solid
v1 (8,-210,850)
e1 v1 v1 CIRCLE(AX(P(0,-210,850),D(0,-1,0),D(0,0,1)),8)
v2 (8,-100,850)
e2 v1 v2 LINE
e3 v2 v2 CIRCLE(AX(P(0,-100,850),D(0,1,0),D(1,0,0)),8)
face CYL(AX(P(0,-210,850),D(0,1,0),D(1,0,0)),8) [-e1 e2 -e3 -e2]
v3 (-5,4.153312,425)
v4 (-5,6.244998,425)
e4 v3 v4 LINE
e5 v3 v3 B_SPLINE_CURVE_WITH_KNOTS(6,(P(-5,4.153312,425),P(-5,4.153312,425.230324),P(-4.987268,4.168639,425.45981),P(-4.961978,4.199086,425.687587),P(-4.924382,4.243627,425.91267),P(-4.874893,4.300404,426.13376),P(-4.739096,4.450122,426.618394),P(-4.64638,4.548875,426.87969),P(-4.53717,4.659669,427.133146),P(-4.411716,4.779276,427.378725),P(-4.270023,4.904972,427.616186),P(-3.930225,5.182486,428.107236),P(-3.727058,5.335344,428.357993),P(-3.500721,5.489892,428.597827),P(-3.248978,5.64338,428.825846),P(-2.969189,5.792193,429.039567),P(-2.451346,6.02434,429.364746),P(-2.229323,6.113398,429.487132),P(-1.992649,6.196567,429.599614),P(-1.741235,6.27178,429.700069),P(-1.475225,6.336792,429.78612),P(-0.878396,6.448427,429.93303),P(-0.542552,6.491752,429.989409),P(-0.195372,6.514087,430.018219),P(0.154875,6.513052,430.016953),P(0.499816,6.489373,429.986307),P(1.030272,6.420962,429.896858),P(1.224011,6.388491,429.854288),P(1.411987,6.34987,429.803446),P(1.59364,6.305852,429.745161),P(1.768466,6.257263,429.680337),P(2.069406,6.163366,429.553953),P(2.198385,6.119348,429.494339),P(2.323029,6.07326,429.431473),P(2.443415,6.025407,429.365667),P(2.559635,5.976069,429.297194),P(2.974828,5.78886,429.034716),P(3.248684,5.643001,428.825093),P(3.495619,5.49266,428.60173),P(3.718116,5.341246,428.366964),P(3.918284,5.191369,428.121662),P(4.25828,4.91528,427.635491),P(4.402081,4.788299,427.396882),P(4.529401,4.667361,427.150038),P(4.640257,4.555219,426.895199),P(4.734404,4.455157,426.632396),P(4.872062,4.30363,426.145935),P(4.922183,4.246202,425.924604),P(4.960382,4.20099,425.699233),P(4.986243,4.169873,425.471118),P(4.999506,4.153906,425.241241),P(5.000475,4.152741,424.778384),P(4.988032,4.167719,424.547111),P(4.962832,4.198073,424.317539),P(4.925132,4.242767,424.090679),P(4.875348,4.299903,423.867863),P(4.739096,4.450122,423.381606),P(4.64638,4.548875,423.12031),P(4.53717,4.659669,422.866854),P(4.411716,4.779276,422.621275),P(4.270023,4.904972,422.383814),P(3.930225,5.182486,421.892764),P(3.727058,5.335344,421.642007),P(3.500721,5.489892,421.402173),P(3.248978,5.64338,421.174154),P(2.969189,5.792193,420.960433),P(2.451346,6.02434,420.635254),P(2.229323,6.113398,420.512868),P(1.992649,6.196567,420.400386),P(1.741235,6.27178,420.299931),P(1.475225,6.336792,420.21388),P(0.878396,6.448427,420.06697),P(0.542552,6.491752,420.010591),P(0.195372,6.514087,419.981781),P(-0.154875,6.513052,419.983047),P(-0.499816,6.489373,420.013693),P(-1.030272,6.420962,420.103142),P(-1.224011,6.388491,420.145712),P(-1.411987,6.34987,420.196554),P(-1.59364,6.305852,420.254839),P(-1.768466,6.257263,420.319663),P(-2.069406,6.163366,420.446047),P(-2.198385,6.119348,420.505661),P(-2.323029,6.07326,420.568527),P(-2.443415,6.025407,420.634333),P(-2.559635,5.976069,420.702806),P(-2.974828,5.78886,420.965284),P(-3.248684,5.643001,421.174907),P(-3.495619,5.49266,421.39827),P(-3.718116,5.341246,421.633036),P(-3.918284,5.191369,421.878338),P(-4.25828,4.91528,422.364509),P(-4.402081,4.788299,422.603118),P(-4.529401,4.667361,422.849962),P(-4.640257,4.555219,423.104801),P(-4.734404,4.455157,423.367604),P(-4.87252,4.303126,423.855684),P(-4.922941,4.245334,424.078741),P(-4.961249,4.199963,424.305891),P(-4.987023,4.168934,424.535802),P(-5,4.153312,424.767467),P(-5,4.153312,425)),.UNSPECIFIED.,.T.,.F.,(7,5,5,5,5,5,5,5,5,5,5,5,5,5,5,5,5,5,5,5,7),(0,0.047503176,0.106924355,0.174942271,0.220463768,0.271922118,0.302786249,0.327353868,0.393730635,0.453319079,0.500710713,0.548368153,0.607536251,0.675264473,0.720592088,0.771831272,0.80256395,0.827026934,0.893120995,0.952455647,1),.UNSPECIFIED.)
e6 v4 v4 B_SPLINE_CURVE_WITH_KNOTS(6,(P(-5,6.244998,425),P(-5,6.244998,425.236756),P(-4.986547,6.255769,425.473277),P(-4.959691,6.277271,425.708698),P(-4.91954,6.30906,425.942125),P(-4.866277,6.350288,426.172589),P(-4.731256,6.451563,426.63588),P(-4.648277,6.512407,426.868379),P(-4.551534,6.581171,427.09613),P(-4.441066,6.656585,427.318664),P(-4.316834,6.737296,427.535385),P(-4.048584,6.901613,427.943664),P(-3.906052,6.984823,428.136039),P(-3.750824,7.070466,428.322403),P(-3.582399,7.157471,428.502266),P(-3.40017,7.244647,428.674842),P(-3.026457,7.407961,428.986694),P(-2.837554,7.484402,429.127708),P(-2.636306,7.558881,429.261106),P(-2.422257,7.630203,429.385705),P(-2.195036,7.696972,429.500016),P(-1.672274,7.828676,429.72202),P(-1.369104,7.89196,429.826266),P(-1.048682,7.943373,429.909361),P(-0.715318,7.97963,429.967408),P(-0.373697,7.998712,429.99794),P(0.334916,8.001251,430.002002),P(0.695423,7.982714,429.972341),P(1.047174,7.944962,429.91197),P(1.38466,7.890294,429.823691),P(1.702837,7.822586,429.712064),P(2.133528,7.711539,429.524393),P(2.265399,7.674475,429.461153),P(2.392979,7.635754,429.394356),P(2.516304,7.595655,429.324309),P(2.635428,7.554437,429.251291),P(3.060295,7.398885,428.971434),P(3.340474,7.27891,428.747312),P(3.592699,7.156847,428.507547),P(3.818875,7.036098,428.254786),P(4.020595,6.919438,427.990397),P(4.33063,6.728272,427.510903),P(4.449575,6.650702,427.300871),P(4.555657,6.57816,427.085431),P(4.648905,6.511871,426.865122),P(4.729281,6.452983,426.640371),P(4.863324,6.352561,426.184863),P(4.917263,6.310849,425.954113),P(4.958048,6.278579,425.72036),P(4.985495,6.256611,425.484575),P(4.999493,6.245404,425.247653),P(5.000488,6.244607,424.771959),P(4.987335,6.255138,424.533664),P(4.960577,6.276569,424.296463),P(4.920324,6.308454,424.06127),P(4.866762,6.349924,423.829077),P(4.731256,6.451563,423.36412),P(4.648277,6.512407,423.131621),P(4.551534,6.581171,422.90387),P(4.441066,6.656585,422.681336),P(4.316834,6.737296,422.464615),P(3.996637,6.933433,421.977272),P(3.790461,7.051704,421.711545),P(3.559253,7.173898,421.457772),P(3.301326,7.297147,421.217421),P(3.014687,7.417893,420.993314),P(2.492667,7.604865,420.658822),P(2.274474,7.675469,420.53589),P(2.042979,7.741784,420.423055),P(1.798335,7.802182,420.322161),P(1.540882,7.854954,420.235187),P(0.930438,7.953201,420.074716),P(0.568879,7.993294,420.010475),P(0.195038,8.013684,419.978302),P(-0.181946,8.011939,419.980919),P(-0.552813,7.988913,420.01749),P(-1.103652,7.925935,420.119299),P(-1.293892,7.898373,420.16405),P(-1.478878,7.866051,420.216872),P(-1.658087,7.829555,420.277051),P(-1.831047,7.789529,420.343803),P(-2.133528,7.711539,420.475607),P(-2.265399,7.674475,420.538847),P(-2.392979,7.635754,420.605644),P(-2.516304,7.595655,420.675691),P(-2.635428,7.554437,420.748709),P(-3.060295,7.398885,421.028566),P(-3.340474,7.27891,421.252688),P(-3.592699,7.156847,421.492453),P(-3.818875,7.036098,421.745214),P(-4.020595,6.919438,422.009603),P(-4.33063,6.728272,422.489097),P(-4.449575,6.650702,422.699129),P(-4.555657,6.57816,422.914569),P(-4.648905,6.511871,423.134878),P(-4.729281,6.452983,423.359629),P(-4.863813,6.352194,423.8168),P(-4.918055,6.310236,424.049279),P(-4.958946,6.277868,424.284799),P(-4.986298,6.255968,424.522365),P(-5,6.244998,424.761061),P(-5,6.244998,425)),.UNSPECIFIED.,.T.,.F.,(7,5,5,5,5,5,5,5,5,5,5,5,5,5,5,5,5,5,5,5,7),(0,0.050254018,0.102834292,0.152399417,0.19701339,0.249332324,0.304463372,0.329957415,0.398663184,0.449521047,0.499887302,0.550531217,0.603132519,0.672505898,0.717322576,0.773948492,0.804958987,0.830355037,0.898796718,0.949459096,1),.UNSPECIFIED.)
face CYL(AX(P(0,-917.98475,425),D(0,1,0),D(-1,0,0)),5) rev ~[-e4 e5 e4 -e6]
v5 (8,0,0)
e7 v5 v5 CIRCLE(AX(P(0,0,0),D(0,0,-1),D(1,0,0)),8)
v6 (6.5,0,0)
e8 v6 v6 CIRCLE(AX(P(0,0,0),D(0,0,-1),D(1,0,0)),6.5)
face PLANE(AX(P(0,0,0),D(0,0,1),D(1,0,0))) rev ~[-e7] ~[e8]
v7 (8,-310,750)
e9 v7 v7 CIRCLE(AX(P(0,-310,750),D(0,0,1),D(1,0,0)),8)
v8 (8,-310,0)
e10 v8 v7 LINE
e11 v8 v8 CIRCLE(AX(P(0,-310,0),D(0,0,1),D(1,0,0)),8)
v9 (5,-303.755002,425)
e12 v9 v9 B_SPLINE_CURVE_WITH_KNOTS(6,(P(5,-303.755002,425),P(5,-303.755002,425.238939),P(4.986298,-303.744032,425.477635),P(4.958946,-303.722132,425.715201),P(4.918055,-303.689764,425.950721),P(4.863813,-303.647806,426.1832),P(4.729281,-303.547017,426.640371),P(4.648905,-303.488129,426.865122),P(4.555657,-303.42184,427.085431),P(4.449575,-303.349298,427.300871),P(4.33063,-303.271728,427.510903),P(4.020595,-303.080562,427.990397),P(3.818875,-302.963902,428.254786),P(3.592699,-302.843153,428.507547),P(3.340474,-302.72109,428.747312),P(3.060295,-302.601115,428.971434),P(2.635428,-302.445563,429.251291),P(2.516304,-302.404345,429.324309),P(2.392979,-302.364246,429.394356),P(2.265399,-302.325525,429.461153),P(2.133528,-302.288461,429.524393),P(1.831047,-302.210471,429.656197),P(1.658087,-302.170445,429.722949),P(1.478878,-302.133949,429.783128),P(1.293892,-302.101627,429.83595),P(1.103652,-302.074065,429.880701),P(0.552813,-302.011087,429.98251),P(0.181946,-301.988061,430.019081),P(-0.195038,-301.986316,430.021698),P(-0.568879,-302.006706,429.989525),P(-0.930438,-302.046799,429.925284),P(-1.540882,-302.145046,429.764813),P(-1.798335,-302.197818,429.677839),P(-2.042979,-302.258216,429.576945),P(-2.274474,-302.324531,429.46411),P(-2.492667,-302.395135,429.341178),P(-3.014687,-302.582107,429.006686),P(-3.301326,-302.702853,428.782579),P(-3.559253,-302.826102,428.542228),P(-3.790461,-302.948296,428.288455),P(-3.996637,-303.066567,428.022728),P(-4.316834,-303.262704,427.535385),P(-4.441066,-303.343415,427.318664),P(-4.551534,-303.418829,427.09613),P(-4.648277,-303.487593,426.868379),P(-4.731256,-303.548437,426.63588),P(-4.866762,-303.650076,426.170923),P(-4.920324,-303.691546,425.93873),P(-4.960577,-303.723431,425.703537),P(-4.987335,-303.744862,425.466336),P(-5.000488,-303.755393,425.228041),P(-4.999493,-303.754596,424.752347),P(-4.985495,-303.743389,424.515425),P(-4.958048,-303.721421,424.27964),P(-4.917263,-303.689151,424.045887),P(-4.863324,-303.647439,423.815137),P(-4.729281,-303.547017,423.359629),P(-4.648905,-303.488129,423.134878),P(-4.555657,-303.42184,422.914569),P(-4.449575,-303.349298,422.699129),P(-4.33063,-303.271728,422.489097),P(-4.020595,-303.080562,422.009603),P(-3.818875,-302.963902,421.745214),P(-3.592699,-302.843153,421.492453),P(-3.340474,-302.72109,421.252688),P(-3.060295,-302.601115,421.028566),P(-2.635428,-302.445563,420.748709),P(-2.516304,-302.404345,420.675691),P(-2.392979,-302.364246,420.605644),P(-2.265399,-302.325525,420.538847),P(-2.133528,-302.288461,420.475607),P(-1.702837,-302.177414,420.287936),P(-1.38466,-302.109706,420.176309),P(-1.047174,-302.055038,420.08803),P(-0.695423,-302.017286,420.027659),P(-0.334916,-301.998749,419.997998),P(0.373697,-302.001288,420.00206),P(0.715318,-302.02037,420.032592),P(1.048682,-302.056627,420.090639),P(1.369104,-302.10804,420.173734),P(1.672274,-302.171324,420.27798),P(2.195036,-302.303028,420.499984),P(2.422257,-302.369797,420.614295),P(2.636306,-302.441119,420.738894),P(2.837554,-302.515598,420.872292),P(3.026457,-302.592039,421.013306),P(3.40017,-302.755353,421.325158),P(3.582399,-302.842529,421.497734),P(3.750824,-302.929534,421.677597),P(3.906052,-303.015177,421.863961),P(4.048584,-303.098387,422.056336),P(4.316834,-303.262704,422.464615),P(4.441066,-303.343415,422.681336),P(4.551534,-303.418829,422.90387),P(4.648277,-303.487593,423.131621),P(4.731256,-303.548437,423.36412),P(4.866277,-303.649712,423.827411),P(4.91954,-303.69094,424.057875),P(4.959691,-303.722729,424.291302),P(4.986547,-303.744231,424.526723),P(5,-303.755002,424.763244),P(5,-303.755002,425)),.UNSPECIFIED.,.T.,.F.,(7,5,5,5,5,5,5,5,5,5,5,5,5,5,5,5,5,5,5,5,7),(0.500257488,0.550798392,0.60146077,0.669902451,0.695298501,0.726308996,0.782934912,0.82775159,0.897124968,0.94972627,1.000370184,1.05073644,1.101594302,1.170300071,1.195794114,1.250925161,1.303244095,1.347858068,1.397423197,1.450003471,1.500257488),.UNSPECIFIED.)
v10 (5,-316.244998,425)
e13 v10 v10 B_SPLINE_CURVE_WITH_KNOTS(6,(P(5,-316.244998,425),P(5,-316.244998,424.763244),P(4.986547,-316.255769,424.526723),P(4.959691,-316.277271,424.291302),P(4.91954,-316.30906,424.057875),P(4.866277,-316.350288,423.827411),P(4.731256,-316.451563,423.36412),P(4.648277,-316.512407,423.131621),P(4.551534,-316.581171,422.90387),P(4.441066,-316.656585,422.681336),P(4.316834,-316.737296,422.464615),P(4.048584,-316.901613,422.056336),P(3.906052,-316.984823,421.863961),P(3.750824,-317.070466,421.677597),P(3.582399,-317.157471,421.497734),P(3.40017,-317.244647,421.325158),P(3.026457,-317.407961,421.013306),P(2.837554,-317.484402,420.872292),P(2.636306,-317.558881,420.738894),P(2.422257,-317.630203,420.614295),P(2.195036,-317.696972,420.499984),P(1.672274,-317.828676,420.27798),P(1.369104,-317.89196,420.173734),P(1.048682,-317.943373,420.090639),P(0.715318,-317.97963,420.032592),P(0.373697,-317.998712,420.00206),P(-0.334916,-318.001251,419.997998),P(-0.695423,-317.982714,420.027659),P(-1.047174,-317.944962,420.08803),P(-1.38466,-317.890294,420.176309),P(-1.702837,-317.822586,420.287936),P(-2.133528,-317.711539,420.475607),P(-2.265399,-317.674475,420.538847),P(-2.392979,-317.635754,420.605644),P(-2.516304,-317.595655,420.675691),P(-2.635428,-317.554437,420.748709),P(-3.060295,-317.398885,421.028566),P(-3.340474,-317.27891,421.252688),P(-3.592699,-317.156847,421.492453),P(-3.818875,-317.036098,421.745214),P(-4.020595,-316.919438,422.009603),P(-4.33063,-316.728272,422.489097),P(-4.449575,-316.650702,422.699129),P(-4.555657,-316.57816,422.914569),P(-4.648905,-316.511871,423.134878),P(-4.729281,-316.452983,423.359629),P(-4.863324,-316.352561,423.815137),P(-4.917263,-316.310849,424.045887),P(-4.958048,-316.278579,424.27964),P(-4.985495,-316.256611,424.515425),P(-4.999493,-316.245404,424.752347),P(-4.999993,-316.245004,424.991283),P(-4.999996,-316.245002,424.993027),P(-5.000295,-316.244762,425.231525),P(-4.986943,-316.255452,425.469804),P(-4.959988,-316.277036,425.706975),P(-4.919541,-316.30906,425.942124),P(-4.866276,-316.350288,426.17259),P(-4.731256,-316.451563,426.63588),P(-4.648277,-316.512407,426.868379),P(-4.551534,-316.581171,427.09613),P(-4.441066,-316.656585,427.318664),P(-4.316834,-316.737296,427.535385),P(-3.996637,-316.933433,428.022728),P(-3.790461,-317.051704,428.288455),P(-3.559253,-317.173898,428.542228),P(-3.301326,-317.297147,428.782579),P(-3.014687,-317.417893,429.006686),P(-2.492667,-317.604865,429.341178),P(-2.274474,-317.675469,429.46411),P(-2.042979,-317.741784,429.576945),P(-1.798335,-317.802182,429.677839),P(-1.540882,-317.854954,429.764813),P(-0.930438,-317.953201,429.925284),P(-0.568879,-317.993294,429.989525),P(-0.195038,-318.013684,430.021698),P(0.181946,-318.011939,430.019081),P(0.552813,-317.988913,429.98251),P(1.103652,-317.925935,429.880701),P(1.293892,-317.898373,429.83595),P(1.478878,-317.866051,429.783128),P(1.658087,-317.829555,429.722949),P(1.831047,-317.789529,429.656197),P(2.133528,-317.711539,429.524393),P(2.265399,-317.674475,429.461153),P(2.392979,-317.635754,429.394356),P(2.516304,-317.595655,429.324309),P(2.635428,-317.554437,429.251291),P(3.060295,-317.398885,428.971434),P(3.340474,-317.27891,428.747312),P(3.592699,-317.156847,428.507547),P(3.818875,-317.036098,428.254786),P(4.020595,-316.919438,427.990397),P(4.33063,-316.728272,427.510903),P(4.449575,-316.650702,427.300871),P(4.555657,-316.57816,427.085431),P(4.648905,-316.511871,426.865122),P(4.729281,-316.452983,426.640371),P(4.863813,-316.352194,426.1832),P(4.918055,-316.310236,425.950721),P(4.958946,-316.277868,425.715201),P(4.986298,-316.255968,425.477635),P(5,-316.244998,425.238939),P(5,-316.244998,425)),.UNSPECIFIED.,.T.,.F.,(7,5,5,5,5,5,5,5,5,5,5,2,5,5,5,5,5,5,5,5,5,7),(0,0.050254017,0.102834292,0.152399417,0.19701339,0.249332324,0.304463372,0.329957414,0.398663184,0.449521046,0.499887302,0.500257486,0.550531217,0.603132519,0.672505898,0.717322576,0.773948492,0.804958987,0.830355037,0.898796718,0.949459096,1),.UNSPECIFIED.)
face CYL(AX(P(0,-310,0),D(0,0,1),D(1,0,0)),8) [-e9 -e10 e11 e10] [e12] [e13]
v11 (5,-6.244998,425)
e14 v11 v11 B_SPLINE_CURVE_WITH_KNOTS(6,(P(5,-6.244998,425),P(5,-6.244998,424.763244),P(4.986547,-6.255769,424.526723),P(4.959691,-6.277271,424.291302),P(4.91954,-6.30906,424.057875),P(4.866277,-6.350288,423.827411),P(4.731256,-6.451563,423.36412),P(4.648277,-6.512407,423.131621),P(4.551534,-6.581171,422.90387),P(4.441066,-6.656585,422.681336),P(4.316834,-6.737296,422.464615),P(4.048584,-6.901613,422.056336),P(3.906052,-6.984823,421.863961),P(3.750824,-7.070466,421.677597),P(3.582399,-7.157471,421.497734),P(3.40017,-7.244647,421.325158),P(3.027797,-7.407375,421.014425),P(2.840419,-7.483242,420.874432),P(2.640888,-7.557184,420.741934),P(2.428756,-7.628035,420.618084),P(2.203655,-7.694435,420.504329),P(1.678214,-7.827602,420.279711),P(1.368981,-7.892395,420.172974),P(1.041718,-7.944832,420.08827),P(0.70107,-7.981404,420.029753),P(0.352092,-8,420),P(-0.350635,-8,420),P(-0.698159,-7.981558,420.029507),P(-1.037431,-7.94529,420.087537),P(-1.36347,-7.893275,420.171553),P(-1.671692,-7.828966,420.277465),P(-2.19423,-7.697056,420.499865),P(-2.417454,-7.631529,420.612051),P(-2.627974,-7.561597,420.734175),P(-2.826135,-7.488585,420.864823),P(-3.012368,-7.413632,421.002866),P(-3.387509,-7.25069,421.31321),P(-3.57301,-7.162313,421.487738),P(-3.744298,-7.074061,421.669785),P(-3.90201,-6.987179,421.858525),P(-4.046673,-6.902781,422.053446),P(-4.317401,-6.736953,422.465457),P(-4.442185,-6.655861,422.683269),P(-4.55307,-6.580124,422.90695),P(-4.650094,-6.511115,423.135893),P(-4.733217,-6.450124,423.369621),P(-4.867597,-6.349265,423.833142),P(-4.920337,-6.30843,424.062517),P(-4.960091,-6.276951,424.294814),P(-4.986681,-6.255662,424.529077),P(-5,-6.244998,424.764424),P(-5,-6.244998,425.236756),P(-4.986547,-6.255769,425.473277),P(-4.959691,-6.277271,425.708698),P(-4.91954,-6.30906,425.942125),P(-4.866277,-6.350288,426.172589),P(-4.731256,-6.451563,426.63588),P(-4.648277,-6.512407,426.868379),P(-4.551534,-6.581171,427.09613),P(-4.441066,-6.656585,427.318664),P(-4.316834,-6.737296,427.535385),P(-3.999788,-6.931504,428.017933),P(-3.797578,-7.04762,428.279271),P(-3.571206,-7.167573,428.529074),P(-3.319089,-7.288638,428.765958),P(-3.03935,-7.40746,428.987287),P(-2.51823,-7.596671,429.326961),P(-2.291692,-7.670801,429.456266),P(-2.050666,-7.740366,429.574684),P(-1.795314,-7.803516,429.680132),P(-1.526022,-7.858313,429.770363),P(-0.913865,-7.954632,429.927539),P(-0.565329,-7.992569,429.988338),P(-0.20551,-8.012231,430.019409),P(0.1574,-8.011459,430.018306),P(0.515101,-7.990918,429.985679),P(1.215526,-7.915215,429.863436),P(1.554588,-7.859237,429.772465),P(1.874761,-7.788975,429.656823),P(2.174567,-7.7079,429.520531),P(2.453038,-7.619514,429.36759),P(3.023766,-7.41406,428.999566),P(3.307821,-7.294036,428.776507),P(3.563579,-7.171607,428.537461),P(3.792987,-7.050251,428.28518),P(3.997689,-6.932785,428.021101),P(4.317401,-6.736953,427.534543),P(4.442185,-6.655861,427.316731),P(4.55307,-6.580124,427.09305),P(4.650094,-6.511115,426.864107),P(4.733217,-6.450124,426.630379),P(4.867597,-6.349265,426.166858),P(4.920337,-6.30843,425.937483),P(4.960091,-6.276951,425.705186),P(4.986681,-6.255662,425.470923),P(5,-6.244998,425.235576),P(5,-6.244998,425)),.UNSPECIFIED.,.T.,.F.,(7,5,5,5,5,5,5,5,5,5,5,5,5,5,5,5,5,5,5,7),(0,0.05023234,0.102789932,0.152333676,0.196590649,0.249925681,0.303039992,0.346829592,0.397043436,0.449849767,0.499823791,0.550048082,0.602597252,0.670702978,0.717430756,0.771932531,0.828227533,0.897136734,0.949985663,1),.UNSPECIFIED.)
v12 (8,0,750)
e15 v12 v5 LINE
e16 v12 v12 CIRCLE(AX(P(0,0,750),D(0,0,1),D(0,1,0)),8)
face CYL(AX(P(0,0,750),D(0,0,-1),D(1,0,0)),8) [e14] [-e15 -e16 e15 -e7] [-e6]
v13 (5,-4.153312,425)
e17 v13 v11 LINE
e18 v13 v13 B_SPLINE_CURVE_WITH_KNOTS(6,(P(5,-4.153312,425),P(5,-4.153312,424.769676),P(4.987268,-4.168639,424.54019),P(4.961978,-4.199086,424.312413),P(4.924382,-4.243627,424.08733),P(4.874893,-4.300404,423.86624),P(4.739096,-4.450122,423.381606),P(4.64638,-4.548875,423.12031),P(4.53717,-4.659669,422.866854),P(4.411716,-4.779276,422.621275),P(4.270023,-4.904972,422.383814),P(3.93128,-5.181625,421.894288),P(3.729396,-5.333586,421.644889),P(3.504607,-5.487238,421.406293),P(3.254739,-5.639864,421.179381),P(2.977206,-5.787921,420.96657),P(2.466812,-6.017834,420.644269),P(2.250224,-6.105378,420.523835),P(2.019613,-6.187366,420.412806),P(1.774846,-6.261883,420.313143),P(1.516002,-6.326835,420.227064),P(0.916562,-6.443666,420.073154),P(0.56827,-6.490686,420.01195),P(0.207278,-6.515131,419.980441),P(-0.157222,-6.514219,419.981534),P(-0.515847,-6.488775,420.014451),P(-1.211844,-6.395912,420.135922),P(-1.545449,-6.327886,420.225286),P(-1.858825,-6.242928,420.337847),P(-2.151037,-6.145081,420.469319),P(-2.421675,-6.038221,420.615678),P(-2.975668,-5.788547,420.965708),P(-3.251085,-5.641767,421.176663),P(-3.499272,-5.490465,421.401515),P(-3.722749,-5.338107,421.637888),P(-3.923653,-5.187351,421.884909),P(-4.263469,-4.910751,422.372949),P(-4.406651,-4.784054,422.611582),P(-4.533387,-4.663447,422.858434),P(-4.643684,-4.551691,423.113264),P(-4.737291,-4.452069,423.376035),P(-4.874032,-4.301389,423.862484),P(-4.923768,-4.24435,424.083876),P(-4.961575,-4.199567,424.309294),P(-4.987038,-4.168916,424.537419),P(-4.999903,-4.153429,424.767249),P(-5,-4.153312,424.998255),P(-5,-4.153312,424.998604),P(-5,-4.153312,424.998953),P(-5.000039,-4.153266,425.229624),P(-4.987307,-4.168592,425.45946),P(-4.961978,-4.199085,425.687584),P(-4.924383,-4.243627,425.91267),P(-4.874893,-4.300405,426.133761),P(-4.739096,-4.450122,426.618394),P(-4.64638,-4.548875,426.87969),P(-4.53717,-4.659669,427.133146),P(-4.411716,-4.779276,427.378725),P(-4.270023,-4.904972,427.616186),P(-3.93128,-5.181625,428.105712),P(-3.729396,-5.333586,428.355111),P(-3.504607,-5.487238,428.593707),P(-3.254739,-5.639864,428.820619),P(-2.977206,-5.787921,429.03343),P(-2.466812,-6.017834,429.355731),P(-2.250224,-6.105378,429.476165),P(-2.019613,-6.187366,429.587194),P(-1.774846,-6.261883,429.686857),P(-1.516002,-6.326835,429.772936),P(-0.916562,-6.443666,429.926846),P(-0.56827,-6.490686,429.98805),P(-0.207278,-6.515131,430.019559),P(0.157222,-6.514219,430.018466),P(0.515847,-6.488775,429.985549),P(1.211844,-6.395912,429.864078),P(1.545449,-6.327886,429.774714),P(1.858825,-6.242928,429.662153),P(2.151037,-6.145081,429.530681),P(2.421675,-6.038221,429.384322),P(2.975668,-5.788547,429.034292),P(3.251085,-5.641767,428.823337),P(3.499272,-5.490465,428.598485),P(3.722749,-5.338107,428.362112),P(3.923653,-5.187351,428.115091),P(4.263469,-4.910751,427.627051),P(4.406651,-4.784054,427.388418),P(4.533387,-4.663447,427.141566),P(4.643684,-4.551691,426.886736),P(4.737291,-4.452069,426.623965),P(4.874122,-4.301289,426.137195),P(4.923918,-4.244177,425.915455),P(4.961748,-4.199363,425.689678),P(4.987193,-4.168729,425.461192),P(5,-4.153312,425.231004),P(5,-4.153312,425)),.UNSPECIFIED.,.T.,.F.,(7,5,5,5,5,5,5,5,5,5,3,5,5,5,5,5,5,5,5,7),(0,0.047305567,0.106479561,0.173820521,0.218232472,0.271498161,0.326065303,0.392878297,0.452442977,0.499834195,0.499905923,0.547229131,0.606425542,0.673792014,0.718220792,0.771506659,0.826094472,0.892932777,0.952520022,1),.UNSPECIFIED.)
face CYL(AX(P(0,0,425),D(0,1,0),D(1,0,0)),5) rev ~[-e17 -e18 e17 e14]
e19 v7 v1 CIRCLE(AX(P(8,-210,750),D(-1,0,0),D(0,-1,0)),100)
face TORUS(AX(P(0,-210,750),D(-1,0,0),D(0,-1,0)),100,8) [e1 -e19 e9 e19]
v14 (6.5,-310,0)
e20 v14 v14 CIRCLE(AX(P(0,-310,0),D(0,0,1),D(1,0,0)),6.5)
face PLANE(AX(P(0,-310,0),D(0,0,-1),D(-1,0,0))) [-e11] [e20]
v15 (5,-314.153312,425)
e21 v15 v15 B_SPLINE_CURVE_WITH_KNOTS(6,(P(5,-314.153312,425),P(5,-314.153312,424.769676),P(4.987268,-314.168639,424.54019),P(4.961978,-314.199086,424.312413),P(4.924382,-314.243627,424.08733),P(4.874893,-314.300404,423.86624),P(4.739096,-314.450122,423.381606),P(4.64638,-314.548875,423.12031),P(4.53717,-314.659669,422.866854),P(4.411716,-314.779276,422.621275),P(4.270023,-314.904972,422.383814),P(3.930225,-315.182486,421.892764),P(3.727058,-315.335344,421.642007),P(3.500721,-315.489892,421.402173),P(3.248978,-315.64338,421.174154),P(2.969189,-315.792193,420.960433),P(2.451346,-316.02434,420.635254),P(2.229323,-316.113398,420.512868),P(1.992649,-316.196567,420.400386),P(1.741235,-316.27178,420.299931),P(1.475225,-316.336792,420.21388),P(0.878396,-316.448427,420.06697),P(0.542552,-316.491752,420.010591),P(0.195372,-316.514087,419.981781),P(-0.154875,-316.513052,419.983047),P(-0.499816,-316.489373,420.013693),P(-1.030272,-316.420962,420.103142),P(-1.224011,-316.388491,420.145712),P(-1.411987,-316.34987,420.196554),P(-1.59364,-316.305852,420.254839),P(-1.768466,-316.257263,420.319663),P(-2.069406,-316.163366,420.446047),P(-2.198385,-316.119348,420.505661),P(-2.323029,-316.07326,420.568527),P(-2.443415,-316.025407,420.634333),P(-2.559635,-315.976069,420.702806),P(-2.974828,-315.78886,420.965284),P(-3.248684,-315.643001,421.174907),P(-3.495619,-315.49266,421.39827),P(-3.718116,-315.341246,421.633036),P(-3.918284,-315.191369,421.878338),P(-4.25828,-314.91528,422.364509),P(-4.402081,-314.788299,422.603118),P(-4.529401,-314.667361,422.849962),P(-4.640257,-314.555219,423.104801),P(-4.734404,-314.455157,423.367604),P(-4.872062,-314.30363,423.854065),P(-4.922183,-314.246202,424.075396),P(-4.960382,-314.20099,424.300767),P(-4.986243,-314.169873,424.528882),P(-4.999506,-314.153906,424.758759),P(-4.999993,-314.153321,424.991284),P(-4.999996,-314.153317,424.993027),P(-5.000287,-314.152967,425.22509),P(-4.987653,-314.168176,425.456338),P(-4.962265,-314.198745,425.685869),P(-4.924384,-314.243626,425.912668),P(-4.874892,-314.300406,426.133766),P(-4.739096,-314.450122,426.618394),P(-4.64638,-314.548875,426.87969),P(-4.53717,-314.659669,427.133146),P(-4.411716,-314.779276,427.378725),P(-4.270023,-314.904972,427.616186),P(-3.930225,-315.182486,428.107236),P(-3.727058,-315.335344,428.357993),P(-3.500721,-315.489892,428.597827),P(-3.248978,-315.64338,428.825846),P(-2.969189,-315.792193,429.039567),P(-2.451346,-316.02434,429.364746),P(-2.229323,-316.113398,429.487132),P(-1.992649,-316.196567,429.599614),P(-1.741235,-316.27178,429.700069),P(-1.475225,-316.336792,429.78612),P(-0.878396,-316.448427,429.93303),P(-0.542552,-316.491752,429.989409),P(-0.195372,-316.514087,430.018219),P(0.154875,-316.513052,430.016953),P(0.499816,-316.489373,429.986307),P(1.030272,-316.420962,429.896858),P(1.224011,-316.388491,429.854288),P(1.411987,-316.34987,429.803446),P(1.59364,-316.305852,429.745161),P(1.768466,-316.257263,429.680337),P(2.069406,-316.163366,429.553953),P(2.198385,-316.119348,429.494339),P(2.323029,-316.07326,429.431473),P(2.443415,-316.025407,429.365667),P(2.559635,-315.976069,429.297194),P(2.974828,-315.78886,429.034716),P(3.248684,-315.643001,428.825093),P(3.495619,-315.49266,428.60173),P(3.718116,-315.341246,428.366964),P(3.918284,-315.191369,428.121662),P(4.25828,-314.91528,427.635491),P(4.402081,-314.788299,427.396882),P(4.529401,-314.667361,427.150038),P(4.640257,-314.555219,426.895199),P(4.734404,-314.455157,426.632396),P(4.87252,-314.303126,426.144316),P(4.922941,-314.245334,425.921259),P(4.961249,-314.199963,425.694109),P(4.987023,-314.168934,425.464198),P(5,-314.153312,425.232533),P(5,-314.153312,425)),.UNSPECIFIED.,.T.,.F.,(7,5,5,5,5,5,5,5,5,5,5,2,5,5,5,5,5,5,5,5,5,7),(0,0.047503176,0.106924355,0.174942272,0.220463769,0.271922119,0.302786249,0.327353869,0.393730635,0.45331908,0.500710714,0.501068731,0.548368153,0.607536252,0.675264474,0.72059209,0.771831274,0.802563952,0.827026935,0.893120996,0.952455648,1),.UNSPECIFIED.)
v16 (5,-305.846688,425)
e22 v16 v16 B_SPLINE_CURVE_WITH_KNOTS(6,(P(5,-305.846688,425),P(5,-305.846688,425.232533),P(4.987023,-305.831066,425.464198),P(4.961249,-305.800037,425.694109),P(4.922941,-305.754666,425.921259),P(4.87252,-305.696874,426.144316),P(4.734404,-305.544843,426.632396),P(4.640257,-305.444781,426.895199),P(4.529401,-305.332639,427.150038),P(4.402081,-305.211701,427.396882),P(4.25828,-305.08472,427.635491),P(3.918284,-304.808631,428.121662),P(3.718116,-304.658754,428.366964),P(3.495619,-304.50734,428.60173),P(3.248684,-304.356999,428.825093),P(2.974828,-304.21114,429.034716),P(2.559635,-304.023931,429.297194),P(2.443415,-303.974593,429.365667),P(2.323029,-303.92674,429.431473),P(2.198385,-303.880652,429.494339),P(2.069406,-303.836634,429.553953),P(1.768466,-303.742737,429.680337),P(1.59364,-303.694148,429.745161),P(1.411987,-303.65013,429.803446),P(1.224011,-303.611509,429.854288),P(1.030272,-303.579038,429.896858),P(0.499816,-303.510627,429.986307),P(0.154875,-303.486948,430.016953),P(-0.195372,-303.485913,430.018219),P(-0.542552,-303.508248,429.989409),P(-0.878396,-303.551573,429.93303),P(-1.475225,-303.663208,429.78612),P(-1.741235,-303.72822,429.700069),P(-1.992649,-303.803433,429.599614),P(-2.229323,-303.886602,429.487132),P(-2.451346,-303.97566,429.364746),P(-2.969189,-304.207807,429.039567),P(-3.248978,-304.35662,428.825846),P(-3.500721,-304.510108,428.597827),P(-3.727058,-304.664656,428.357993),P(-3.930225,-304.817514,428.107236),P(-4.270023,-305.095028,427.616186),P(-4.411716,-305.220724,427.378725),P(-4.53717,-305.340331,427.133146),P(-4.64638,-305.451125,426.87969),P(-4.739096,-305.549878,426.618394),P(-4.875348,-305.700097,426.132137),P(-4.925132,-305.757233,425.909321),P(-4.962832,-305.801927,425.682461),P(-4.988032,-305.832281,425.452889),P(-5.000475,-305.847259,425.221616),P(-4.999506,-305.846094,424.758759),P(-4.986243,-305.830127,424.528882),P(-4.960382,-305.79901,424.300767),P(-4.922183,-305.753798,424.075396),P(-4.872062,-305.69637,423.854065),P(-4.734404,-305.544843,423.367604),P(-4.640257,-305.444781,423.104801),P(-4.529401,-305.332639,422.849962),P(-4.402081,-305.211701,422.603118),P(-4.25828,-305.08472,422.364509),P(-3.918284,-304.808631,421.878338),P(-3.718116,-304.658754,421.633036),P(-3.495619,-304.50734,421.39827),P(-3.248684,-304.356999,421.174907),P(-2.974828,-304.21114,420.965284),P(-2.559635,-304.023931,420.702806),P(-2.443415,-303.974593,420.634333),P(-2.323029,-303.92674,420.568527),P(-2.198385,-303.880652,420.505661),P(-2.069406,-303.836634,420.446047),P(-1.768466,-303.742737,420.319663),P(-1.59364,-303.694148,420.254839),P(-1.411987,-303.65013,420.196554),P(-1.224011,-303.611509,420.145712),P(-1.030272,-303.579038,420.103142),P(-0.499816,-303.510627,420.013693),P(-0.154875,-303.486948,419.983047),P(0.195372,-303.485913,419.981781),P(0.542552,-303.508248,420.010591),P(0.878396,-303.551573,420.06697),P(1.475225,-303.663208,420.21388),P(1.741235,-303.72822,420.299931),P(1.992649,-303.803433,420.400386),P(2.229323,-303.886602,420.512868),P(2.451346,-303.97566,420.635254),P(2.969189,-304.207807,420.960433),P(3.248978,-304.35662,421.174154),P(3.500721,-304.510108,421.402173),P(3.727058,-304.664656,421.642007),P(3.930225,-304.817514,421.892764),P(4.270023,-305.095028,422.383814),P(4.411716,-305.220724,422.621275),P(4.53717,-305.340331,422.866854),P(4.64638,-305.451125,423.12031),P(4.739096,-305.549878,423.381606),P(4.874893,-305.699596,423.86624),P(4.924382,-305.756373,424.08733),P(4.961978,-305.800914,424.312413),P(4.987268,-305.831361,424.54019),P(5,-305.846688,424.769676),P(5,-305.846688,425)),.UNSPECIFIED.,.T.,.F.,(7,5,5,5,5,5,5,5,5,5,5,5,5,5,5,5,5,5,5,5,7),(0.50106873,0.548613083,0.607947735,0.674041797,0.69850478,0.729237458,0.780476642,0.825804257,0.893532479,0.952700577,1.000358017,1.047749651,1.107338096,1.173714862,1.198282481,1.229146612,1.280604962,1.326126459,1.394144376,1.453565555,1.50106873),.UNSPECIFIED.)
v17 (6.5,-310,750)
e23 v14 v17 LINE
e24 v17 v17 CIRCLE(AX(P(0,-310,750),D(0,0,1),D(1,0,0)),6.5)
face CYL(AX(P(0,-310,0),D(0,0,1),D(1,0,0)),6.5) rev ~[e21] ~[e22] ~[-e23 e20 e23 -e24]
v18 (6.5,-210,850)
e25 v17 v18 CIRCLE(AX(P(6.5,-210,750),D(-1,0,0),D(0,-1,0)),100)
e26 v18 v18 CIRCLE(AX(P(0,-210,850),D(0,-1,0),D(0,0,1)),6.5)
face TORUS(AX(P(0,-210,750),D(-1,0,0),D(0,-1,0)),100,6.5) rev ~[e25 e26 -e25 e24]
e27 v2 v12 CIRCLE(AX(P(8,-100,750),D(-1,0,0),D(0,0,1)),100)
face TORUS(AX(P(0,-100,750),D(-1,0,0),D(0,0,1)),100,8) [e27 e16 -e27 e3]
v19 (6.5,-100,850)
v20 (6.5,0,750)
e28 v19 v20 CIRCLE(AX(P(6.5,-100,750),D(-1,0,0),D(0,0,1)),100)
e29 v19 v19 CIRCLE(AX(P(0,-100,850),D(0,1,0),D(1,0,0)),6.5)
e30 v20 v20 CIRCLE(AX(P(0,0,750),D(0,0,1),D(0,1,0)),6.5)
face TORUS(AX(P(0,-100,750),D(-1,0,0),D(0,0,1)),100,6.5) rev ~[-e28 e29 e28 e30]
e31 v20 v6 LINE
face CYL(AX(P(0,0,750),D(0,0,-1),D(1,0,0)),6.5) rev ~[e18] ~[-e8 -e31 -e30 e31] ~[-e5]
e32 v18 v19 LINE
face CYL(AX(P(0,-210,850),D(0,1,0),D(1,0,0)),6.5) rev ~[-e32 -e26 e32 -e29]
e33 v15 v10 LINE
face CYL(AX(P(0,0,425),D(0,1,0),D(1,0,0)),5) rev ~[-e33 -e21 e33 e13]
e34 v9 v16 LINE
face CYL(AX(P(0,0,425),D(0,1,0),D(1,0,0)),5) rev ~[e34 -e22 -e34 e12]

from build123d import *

# Parameters (mm, degrees)
F1_R     = 8
F3_T     = -1.5
F5_D     = 10
F5_DEPTH = 318.0010001
F6_D     = 10


with BuildPart() as f2:
    # F2: sweep along a path in F0
    with BuildLine(Plane.YZ) as f2_path:
        Line((-310, 0), (-310, 750))
        ThreePointArc((-310, 750), (-280.7106781187, 820.7106781187), (-210, 850))
        Line((-210, 850), (-100, 850))
        ThreePointArc((-100, 850), (-29.2893218813, 820.7106781187), (0, 750))
        Line((0, 750), (0, 0))
    # F1 (on Top) → F2 (sweep)
    with BuildSketch(Plane.XY):
        Circle(F1_R)
    sweep(path=f2_path.line)

    # F3
    f3_openings = [f2.faces().sort_by_distance(p)[0] for p in [
        (0, -310, 0),
        (0, 0, 0),
    ]]
    offset(amount=F3_T, openings=f3_openings)

    # F5 (through all, one way)
    with BuildSketch(Plane(origin=(0, 0, 0), x_dir=(1, 0, 0), z_dir=(0, 1, 0))):
        with Locations((0, -425)):
            Circle(F5_D / 2)
    extrude(amount=-F5_DEPTH, mode=Mode.SUBTRACT)

    # F6 (through all)
    with Locations(Plane.XZ):
        with Locations((0, 425)):
            Hole(F6_D / 2)


solid = f2.part
